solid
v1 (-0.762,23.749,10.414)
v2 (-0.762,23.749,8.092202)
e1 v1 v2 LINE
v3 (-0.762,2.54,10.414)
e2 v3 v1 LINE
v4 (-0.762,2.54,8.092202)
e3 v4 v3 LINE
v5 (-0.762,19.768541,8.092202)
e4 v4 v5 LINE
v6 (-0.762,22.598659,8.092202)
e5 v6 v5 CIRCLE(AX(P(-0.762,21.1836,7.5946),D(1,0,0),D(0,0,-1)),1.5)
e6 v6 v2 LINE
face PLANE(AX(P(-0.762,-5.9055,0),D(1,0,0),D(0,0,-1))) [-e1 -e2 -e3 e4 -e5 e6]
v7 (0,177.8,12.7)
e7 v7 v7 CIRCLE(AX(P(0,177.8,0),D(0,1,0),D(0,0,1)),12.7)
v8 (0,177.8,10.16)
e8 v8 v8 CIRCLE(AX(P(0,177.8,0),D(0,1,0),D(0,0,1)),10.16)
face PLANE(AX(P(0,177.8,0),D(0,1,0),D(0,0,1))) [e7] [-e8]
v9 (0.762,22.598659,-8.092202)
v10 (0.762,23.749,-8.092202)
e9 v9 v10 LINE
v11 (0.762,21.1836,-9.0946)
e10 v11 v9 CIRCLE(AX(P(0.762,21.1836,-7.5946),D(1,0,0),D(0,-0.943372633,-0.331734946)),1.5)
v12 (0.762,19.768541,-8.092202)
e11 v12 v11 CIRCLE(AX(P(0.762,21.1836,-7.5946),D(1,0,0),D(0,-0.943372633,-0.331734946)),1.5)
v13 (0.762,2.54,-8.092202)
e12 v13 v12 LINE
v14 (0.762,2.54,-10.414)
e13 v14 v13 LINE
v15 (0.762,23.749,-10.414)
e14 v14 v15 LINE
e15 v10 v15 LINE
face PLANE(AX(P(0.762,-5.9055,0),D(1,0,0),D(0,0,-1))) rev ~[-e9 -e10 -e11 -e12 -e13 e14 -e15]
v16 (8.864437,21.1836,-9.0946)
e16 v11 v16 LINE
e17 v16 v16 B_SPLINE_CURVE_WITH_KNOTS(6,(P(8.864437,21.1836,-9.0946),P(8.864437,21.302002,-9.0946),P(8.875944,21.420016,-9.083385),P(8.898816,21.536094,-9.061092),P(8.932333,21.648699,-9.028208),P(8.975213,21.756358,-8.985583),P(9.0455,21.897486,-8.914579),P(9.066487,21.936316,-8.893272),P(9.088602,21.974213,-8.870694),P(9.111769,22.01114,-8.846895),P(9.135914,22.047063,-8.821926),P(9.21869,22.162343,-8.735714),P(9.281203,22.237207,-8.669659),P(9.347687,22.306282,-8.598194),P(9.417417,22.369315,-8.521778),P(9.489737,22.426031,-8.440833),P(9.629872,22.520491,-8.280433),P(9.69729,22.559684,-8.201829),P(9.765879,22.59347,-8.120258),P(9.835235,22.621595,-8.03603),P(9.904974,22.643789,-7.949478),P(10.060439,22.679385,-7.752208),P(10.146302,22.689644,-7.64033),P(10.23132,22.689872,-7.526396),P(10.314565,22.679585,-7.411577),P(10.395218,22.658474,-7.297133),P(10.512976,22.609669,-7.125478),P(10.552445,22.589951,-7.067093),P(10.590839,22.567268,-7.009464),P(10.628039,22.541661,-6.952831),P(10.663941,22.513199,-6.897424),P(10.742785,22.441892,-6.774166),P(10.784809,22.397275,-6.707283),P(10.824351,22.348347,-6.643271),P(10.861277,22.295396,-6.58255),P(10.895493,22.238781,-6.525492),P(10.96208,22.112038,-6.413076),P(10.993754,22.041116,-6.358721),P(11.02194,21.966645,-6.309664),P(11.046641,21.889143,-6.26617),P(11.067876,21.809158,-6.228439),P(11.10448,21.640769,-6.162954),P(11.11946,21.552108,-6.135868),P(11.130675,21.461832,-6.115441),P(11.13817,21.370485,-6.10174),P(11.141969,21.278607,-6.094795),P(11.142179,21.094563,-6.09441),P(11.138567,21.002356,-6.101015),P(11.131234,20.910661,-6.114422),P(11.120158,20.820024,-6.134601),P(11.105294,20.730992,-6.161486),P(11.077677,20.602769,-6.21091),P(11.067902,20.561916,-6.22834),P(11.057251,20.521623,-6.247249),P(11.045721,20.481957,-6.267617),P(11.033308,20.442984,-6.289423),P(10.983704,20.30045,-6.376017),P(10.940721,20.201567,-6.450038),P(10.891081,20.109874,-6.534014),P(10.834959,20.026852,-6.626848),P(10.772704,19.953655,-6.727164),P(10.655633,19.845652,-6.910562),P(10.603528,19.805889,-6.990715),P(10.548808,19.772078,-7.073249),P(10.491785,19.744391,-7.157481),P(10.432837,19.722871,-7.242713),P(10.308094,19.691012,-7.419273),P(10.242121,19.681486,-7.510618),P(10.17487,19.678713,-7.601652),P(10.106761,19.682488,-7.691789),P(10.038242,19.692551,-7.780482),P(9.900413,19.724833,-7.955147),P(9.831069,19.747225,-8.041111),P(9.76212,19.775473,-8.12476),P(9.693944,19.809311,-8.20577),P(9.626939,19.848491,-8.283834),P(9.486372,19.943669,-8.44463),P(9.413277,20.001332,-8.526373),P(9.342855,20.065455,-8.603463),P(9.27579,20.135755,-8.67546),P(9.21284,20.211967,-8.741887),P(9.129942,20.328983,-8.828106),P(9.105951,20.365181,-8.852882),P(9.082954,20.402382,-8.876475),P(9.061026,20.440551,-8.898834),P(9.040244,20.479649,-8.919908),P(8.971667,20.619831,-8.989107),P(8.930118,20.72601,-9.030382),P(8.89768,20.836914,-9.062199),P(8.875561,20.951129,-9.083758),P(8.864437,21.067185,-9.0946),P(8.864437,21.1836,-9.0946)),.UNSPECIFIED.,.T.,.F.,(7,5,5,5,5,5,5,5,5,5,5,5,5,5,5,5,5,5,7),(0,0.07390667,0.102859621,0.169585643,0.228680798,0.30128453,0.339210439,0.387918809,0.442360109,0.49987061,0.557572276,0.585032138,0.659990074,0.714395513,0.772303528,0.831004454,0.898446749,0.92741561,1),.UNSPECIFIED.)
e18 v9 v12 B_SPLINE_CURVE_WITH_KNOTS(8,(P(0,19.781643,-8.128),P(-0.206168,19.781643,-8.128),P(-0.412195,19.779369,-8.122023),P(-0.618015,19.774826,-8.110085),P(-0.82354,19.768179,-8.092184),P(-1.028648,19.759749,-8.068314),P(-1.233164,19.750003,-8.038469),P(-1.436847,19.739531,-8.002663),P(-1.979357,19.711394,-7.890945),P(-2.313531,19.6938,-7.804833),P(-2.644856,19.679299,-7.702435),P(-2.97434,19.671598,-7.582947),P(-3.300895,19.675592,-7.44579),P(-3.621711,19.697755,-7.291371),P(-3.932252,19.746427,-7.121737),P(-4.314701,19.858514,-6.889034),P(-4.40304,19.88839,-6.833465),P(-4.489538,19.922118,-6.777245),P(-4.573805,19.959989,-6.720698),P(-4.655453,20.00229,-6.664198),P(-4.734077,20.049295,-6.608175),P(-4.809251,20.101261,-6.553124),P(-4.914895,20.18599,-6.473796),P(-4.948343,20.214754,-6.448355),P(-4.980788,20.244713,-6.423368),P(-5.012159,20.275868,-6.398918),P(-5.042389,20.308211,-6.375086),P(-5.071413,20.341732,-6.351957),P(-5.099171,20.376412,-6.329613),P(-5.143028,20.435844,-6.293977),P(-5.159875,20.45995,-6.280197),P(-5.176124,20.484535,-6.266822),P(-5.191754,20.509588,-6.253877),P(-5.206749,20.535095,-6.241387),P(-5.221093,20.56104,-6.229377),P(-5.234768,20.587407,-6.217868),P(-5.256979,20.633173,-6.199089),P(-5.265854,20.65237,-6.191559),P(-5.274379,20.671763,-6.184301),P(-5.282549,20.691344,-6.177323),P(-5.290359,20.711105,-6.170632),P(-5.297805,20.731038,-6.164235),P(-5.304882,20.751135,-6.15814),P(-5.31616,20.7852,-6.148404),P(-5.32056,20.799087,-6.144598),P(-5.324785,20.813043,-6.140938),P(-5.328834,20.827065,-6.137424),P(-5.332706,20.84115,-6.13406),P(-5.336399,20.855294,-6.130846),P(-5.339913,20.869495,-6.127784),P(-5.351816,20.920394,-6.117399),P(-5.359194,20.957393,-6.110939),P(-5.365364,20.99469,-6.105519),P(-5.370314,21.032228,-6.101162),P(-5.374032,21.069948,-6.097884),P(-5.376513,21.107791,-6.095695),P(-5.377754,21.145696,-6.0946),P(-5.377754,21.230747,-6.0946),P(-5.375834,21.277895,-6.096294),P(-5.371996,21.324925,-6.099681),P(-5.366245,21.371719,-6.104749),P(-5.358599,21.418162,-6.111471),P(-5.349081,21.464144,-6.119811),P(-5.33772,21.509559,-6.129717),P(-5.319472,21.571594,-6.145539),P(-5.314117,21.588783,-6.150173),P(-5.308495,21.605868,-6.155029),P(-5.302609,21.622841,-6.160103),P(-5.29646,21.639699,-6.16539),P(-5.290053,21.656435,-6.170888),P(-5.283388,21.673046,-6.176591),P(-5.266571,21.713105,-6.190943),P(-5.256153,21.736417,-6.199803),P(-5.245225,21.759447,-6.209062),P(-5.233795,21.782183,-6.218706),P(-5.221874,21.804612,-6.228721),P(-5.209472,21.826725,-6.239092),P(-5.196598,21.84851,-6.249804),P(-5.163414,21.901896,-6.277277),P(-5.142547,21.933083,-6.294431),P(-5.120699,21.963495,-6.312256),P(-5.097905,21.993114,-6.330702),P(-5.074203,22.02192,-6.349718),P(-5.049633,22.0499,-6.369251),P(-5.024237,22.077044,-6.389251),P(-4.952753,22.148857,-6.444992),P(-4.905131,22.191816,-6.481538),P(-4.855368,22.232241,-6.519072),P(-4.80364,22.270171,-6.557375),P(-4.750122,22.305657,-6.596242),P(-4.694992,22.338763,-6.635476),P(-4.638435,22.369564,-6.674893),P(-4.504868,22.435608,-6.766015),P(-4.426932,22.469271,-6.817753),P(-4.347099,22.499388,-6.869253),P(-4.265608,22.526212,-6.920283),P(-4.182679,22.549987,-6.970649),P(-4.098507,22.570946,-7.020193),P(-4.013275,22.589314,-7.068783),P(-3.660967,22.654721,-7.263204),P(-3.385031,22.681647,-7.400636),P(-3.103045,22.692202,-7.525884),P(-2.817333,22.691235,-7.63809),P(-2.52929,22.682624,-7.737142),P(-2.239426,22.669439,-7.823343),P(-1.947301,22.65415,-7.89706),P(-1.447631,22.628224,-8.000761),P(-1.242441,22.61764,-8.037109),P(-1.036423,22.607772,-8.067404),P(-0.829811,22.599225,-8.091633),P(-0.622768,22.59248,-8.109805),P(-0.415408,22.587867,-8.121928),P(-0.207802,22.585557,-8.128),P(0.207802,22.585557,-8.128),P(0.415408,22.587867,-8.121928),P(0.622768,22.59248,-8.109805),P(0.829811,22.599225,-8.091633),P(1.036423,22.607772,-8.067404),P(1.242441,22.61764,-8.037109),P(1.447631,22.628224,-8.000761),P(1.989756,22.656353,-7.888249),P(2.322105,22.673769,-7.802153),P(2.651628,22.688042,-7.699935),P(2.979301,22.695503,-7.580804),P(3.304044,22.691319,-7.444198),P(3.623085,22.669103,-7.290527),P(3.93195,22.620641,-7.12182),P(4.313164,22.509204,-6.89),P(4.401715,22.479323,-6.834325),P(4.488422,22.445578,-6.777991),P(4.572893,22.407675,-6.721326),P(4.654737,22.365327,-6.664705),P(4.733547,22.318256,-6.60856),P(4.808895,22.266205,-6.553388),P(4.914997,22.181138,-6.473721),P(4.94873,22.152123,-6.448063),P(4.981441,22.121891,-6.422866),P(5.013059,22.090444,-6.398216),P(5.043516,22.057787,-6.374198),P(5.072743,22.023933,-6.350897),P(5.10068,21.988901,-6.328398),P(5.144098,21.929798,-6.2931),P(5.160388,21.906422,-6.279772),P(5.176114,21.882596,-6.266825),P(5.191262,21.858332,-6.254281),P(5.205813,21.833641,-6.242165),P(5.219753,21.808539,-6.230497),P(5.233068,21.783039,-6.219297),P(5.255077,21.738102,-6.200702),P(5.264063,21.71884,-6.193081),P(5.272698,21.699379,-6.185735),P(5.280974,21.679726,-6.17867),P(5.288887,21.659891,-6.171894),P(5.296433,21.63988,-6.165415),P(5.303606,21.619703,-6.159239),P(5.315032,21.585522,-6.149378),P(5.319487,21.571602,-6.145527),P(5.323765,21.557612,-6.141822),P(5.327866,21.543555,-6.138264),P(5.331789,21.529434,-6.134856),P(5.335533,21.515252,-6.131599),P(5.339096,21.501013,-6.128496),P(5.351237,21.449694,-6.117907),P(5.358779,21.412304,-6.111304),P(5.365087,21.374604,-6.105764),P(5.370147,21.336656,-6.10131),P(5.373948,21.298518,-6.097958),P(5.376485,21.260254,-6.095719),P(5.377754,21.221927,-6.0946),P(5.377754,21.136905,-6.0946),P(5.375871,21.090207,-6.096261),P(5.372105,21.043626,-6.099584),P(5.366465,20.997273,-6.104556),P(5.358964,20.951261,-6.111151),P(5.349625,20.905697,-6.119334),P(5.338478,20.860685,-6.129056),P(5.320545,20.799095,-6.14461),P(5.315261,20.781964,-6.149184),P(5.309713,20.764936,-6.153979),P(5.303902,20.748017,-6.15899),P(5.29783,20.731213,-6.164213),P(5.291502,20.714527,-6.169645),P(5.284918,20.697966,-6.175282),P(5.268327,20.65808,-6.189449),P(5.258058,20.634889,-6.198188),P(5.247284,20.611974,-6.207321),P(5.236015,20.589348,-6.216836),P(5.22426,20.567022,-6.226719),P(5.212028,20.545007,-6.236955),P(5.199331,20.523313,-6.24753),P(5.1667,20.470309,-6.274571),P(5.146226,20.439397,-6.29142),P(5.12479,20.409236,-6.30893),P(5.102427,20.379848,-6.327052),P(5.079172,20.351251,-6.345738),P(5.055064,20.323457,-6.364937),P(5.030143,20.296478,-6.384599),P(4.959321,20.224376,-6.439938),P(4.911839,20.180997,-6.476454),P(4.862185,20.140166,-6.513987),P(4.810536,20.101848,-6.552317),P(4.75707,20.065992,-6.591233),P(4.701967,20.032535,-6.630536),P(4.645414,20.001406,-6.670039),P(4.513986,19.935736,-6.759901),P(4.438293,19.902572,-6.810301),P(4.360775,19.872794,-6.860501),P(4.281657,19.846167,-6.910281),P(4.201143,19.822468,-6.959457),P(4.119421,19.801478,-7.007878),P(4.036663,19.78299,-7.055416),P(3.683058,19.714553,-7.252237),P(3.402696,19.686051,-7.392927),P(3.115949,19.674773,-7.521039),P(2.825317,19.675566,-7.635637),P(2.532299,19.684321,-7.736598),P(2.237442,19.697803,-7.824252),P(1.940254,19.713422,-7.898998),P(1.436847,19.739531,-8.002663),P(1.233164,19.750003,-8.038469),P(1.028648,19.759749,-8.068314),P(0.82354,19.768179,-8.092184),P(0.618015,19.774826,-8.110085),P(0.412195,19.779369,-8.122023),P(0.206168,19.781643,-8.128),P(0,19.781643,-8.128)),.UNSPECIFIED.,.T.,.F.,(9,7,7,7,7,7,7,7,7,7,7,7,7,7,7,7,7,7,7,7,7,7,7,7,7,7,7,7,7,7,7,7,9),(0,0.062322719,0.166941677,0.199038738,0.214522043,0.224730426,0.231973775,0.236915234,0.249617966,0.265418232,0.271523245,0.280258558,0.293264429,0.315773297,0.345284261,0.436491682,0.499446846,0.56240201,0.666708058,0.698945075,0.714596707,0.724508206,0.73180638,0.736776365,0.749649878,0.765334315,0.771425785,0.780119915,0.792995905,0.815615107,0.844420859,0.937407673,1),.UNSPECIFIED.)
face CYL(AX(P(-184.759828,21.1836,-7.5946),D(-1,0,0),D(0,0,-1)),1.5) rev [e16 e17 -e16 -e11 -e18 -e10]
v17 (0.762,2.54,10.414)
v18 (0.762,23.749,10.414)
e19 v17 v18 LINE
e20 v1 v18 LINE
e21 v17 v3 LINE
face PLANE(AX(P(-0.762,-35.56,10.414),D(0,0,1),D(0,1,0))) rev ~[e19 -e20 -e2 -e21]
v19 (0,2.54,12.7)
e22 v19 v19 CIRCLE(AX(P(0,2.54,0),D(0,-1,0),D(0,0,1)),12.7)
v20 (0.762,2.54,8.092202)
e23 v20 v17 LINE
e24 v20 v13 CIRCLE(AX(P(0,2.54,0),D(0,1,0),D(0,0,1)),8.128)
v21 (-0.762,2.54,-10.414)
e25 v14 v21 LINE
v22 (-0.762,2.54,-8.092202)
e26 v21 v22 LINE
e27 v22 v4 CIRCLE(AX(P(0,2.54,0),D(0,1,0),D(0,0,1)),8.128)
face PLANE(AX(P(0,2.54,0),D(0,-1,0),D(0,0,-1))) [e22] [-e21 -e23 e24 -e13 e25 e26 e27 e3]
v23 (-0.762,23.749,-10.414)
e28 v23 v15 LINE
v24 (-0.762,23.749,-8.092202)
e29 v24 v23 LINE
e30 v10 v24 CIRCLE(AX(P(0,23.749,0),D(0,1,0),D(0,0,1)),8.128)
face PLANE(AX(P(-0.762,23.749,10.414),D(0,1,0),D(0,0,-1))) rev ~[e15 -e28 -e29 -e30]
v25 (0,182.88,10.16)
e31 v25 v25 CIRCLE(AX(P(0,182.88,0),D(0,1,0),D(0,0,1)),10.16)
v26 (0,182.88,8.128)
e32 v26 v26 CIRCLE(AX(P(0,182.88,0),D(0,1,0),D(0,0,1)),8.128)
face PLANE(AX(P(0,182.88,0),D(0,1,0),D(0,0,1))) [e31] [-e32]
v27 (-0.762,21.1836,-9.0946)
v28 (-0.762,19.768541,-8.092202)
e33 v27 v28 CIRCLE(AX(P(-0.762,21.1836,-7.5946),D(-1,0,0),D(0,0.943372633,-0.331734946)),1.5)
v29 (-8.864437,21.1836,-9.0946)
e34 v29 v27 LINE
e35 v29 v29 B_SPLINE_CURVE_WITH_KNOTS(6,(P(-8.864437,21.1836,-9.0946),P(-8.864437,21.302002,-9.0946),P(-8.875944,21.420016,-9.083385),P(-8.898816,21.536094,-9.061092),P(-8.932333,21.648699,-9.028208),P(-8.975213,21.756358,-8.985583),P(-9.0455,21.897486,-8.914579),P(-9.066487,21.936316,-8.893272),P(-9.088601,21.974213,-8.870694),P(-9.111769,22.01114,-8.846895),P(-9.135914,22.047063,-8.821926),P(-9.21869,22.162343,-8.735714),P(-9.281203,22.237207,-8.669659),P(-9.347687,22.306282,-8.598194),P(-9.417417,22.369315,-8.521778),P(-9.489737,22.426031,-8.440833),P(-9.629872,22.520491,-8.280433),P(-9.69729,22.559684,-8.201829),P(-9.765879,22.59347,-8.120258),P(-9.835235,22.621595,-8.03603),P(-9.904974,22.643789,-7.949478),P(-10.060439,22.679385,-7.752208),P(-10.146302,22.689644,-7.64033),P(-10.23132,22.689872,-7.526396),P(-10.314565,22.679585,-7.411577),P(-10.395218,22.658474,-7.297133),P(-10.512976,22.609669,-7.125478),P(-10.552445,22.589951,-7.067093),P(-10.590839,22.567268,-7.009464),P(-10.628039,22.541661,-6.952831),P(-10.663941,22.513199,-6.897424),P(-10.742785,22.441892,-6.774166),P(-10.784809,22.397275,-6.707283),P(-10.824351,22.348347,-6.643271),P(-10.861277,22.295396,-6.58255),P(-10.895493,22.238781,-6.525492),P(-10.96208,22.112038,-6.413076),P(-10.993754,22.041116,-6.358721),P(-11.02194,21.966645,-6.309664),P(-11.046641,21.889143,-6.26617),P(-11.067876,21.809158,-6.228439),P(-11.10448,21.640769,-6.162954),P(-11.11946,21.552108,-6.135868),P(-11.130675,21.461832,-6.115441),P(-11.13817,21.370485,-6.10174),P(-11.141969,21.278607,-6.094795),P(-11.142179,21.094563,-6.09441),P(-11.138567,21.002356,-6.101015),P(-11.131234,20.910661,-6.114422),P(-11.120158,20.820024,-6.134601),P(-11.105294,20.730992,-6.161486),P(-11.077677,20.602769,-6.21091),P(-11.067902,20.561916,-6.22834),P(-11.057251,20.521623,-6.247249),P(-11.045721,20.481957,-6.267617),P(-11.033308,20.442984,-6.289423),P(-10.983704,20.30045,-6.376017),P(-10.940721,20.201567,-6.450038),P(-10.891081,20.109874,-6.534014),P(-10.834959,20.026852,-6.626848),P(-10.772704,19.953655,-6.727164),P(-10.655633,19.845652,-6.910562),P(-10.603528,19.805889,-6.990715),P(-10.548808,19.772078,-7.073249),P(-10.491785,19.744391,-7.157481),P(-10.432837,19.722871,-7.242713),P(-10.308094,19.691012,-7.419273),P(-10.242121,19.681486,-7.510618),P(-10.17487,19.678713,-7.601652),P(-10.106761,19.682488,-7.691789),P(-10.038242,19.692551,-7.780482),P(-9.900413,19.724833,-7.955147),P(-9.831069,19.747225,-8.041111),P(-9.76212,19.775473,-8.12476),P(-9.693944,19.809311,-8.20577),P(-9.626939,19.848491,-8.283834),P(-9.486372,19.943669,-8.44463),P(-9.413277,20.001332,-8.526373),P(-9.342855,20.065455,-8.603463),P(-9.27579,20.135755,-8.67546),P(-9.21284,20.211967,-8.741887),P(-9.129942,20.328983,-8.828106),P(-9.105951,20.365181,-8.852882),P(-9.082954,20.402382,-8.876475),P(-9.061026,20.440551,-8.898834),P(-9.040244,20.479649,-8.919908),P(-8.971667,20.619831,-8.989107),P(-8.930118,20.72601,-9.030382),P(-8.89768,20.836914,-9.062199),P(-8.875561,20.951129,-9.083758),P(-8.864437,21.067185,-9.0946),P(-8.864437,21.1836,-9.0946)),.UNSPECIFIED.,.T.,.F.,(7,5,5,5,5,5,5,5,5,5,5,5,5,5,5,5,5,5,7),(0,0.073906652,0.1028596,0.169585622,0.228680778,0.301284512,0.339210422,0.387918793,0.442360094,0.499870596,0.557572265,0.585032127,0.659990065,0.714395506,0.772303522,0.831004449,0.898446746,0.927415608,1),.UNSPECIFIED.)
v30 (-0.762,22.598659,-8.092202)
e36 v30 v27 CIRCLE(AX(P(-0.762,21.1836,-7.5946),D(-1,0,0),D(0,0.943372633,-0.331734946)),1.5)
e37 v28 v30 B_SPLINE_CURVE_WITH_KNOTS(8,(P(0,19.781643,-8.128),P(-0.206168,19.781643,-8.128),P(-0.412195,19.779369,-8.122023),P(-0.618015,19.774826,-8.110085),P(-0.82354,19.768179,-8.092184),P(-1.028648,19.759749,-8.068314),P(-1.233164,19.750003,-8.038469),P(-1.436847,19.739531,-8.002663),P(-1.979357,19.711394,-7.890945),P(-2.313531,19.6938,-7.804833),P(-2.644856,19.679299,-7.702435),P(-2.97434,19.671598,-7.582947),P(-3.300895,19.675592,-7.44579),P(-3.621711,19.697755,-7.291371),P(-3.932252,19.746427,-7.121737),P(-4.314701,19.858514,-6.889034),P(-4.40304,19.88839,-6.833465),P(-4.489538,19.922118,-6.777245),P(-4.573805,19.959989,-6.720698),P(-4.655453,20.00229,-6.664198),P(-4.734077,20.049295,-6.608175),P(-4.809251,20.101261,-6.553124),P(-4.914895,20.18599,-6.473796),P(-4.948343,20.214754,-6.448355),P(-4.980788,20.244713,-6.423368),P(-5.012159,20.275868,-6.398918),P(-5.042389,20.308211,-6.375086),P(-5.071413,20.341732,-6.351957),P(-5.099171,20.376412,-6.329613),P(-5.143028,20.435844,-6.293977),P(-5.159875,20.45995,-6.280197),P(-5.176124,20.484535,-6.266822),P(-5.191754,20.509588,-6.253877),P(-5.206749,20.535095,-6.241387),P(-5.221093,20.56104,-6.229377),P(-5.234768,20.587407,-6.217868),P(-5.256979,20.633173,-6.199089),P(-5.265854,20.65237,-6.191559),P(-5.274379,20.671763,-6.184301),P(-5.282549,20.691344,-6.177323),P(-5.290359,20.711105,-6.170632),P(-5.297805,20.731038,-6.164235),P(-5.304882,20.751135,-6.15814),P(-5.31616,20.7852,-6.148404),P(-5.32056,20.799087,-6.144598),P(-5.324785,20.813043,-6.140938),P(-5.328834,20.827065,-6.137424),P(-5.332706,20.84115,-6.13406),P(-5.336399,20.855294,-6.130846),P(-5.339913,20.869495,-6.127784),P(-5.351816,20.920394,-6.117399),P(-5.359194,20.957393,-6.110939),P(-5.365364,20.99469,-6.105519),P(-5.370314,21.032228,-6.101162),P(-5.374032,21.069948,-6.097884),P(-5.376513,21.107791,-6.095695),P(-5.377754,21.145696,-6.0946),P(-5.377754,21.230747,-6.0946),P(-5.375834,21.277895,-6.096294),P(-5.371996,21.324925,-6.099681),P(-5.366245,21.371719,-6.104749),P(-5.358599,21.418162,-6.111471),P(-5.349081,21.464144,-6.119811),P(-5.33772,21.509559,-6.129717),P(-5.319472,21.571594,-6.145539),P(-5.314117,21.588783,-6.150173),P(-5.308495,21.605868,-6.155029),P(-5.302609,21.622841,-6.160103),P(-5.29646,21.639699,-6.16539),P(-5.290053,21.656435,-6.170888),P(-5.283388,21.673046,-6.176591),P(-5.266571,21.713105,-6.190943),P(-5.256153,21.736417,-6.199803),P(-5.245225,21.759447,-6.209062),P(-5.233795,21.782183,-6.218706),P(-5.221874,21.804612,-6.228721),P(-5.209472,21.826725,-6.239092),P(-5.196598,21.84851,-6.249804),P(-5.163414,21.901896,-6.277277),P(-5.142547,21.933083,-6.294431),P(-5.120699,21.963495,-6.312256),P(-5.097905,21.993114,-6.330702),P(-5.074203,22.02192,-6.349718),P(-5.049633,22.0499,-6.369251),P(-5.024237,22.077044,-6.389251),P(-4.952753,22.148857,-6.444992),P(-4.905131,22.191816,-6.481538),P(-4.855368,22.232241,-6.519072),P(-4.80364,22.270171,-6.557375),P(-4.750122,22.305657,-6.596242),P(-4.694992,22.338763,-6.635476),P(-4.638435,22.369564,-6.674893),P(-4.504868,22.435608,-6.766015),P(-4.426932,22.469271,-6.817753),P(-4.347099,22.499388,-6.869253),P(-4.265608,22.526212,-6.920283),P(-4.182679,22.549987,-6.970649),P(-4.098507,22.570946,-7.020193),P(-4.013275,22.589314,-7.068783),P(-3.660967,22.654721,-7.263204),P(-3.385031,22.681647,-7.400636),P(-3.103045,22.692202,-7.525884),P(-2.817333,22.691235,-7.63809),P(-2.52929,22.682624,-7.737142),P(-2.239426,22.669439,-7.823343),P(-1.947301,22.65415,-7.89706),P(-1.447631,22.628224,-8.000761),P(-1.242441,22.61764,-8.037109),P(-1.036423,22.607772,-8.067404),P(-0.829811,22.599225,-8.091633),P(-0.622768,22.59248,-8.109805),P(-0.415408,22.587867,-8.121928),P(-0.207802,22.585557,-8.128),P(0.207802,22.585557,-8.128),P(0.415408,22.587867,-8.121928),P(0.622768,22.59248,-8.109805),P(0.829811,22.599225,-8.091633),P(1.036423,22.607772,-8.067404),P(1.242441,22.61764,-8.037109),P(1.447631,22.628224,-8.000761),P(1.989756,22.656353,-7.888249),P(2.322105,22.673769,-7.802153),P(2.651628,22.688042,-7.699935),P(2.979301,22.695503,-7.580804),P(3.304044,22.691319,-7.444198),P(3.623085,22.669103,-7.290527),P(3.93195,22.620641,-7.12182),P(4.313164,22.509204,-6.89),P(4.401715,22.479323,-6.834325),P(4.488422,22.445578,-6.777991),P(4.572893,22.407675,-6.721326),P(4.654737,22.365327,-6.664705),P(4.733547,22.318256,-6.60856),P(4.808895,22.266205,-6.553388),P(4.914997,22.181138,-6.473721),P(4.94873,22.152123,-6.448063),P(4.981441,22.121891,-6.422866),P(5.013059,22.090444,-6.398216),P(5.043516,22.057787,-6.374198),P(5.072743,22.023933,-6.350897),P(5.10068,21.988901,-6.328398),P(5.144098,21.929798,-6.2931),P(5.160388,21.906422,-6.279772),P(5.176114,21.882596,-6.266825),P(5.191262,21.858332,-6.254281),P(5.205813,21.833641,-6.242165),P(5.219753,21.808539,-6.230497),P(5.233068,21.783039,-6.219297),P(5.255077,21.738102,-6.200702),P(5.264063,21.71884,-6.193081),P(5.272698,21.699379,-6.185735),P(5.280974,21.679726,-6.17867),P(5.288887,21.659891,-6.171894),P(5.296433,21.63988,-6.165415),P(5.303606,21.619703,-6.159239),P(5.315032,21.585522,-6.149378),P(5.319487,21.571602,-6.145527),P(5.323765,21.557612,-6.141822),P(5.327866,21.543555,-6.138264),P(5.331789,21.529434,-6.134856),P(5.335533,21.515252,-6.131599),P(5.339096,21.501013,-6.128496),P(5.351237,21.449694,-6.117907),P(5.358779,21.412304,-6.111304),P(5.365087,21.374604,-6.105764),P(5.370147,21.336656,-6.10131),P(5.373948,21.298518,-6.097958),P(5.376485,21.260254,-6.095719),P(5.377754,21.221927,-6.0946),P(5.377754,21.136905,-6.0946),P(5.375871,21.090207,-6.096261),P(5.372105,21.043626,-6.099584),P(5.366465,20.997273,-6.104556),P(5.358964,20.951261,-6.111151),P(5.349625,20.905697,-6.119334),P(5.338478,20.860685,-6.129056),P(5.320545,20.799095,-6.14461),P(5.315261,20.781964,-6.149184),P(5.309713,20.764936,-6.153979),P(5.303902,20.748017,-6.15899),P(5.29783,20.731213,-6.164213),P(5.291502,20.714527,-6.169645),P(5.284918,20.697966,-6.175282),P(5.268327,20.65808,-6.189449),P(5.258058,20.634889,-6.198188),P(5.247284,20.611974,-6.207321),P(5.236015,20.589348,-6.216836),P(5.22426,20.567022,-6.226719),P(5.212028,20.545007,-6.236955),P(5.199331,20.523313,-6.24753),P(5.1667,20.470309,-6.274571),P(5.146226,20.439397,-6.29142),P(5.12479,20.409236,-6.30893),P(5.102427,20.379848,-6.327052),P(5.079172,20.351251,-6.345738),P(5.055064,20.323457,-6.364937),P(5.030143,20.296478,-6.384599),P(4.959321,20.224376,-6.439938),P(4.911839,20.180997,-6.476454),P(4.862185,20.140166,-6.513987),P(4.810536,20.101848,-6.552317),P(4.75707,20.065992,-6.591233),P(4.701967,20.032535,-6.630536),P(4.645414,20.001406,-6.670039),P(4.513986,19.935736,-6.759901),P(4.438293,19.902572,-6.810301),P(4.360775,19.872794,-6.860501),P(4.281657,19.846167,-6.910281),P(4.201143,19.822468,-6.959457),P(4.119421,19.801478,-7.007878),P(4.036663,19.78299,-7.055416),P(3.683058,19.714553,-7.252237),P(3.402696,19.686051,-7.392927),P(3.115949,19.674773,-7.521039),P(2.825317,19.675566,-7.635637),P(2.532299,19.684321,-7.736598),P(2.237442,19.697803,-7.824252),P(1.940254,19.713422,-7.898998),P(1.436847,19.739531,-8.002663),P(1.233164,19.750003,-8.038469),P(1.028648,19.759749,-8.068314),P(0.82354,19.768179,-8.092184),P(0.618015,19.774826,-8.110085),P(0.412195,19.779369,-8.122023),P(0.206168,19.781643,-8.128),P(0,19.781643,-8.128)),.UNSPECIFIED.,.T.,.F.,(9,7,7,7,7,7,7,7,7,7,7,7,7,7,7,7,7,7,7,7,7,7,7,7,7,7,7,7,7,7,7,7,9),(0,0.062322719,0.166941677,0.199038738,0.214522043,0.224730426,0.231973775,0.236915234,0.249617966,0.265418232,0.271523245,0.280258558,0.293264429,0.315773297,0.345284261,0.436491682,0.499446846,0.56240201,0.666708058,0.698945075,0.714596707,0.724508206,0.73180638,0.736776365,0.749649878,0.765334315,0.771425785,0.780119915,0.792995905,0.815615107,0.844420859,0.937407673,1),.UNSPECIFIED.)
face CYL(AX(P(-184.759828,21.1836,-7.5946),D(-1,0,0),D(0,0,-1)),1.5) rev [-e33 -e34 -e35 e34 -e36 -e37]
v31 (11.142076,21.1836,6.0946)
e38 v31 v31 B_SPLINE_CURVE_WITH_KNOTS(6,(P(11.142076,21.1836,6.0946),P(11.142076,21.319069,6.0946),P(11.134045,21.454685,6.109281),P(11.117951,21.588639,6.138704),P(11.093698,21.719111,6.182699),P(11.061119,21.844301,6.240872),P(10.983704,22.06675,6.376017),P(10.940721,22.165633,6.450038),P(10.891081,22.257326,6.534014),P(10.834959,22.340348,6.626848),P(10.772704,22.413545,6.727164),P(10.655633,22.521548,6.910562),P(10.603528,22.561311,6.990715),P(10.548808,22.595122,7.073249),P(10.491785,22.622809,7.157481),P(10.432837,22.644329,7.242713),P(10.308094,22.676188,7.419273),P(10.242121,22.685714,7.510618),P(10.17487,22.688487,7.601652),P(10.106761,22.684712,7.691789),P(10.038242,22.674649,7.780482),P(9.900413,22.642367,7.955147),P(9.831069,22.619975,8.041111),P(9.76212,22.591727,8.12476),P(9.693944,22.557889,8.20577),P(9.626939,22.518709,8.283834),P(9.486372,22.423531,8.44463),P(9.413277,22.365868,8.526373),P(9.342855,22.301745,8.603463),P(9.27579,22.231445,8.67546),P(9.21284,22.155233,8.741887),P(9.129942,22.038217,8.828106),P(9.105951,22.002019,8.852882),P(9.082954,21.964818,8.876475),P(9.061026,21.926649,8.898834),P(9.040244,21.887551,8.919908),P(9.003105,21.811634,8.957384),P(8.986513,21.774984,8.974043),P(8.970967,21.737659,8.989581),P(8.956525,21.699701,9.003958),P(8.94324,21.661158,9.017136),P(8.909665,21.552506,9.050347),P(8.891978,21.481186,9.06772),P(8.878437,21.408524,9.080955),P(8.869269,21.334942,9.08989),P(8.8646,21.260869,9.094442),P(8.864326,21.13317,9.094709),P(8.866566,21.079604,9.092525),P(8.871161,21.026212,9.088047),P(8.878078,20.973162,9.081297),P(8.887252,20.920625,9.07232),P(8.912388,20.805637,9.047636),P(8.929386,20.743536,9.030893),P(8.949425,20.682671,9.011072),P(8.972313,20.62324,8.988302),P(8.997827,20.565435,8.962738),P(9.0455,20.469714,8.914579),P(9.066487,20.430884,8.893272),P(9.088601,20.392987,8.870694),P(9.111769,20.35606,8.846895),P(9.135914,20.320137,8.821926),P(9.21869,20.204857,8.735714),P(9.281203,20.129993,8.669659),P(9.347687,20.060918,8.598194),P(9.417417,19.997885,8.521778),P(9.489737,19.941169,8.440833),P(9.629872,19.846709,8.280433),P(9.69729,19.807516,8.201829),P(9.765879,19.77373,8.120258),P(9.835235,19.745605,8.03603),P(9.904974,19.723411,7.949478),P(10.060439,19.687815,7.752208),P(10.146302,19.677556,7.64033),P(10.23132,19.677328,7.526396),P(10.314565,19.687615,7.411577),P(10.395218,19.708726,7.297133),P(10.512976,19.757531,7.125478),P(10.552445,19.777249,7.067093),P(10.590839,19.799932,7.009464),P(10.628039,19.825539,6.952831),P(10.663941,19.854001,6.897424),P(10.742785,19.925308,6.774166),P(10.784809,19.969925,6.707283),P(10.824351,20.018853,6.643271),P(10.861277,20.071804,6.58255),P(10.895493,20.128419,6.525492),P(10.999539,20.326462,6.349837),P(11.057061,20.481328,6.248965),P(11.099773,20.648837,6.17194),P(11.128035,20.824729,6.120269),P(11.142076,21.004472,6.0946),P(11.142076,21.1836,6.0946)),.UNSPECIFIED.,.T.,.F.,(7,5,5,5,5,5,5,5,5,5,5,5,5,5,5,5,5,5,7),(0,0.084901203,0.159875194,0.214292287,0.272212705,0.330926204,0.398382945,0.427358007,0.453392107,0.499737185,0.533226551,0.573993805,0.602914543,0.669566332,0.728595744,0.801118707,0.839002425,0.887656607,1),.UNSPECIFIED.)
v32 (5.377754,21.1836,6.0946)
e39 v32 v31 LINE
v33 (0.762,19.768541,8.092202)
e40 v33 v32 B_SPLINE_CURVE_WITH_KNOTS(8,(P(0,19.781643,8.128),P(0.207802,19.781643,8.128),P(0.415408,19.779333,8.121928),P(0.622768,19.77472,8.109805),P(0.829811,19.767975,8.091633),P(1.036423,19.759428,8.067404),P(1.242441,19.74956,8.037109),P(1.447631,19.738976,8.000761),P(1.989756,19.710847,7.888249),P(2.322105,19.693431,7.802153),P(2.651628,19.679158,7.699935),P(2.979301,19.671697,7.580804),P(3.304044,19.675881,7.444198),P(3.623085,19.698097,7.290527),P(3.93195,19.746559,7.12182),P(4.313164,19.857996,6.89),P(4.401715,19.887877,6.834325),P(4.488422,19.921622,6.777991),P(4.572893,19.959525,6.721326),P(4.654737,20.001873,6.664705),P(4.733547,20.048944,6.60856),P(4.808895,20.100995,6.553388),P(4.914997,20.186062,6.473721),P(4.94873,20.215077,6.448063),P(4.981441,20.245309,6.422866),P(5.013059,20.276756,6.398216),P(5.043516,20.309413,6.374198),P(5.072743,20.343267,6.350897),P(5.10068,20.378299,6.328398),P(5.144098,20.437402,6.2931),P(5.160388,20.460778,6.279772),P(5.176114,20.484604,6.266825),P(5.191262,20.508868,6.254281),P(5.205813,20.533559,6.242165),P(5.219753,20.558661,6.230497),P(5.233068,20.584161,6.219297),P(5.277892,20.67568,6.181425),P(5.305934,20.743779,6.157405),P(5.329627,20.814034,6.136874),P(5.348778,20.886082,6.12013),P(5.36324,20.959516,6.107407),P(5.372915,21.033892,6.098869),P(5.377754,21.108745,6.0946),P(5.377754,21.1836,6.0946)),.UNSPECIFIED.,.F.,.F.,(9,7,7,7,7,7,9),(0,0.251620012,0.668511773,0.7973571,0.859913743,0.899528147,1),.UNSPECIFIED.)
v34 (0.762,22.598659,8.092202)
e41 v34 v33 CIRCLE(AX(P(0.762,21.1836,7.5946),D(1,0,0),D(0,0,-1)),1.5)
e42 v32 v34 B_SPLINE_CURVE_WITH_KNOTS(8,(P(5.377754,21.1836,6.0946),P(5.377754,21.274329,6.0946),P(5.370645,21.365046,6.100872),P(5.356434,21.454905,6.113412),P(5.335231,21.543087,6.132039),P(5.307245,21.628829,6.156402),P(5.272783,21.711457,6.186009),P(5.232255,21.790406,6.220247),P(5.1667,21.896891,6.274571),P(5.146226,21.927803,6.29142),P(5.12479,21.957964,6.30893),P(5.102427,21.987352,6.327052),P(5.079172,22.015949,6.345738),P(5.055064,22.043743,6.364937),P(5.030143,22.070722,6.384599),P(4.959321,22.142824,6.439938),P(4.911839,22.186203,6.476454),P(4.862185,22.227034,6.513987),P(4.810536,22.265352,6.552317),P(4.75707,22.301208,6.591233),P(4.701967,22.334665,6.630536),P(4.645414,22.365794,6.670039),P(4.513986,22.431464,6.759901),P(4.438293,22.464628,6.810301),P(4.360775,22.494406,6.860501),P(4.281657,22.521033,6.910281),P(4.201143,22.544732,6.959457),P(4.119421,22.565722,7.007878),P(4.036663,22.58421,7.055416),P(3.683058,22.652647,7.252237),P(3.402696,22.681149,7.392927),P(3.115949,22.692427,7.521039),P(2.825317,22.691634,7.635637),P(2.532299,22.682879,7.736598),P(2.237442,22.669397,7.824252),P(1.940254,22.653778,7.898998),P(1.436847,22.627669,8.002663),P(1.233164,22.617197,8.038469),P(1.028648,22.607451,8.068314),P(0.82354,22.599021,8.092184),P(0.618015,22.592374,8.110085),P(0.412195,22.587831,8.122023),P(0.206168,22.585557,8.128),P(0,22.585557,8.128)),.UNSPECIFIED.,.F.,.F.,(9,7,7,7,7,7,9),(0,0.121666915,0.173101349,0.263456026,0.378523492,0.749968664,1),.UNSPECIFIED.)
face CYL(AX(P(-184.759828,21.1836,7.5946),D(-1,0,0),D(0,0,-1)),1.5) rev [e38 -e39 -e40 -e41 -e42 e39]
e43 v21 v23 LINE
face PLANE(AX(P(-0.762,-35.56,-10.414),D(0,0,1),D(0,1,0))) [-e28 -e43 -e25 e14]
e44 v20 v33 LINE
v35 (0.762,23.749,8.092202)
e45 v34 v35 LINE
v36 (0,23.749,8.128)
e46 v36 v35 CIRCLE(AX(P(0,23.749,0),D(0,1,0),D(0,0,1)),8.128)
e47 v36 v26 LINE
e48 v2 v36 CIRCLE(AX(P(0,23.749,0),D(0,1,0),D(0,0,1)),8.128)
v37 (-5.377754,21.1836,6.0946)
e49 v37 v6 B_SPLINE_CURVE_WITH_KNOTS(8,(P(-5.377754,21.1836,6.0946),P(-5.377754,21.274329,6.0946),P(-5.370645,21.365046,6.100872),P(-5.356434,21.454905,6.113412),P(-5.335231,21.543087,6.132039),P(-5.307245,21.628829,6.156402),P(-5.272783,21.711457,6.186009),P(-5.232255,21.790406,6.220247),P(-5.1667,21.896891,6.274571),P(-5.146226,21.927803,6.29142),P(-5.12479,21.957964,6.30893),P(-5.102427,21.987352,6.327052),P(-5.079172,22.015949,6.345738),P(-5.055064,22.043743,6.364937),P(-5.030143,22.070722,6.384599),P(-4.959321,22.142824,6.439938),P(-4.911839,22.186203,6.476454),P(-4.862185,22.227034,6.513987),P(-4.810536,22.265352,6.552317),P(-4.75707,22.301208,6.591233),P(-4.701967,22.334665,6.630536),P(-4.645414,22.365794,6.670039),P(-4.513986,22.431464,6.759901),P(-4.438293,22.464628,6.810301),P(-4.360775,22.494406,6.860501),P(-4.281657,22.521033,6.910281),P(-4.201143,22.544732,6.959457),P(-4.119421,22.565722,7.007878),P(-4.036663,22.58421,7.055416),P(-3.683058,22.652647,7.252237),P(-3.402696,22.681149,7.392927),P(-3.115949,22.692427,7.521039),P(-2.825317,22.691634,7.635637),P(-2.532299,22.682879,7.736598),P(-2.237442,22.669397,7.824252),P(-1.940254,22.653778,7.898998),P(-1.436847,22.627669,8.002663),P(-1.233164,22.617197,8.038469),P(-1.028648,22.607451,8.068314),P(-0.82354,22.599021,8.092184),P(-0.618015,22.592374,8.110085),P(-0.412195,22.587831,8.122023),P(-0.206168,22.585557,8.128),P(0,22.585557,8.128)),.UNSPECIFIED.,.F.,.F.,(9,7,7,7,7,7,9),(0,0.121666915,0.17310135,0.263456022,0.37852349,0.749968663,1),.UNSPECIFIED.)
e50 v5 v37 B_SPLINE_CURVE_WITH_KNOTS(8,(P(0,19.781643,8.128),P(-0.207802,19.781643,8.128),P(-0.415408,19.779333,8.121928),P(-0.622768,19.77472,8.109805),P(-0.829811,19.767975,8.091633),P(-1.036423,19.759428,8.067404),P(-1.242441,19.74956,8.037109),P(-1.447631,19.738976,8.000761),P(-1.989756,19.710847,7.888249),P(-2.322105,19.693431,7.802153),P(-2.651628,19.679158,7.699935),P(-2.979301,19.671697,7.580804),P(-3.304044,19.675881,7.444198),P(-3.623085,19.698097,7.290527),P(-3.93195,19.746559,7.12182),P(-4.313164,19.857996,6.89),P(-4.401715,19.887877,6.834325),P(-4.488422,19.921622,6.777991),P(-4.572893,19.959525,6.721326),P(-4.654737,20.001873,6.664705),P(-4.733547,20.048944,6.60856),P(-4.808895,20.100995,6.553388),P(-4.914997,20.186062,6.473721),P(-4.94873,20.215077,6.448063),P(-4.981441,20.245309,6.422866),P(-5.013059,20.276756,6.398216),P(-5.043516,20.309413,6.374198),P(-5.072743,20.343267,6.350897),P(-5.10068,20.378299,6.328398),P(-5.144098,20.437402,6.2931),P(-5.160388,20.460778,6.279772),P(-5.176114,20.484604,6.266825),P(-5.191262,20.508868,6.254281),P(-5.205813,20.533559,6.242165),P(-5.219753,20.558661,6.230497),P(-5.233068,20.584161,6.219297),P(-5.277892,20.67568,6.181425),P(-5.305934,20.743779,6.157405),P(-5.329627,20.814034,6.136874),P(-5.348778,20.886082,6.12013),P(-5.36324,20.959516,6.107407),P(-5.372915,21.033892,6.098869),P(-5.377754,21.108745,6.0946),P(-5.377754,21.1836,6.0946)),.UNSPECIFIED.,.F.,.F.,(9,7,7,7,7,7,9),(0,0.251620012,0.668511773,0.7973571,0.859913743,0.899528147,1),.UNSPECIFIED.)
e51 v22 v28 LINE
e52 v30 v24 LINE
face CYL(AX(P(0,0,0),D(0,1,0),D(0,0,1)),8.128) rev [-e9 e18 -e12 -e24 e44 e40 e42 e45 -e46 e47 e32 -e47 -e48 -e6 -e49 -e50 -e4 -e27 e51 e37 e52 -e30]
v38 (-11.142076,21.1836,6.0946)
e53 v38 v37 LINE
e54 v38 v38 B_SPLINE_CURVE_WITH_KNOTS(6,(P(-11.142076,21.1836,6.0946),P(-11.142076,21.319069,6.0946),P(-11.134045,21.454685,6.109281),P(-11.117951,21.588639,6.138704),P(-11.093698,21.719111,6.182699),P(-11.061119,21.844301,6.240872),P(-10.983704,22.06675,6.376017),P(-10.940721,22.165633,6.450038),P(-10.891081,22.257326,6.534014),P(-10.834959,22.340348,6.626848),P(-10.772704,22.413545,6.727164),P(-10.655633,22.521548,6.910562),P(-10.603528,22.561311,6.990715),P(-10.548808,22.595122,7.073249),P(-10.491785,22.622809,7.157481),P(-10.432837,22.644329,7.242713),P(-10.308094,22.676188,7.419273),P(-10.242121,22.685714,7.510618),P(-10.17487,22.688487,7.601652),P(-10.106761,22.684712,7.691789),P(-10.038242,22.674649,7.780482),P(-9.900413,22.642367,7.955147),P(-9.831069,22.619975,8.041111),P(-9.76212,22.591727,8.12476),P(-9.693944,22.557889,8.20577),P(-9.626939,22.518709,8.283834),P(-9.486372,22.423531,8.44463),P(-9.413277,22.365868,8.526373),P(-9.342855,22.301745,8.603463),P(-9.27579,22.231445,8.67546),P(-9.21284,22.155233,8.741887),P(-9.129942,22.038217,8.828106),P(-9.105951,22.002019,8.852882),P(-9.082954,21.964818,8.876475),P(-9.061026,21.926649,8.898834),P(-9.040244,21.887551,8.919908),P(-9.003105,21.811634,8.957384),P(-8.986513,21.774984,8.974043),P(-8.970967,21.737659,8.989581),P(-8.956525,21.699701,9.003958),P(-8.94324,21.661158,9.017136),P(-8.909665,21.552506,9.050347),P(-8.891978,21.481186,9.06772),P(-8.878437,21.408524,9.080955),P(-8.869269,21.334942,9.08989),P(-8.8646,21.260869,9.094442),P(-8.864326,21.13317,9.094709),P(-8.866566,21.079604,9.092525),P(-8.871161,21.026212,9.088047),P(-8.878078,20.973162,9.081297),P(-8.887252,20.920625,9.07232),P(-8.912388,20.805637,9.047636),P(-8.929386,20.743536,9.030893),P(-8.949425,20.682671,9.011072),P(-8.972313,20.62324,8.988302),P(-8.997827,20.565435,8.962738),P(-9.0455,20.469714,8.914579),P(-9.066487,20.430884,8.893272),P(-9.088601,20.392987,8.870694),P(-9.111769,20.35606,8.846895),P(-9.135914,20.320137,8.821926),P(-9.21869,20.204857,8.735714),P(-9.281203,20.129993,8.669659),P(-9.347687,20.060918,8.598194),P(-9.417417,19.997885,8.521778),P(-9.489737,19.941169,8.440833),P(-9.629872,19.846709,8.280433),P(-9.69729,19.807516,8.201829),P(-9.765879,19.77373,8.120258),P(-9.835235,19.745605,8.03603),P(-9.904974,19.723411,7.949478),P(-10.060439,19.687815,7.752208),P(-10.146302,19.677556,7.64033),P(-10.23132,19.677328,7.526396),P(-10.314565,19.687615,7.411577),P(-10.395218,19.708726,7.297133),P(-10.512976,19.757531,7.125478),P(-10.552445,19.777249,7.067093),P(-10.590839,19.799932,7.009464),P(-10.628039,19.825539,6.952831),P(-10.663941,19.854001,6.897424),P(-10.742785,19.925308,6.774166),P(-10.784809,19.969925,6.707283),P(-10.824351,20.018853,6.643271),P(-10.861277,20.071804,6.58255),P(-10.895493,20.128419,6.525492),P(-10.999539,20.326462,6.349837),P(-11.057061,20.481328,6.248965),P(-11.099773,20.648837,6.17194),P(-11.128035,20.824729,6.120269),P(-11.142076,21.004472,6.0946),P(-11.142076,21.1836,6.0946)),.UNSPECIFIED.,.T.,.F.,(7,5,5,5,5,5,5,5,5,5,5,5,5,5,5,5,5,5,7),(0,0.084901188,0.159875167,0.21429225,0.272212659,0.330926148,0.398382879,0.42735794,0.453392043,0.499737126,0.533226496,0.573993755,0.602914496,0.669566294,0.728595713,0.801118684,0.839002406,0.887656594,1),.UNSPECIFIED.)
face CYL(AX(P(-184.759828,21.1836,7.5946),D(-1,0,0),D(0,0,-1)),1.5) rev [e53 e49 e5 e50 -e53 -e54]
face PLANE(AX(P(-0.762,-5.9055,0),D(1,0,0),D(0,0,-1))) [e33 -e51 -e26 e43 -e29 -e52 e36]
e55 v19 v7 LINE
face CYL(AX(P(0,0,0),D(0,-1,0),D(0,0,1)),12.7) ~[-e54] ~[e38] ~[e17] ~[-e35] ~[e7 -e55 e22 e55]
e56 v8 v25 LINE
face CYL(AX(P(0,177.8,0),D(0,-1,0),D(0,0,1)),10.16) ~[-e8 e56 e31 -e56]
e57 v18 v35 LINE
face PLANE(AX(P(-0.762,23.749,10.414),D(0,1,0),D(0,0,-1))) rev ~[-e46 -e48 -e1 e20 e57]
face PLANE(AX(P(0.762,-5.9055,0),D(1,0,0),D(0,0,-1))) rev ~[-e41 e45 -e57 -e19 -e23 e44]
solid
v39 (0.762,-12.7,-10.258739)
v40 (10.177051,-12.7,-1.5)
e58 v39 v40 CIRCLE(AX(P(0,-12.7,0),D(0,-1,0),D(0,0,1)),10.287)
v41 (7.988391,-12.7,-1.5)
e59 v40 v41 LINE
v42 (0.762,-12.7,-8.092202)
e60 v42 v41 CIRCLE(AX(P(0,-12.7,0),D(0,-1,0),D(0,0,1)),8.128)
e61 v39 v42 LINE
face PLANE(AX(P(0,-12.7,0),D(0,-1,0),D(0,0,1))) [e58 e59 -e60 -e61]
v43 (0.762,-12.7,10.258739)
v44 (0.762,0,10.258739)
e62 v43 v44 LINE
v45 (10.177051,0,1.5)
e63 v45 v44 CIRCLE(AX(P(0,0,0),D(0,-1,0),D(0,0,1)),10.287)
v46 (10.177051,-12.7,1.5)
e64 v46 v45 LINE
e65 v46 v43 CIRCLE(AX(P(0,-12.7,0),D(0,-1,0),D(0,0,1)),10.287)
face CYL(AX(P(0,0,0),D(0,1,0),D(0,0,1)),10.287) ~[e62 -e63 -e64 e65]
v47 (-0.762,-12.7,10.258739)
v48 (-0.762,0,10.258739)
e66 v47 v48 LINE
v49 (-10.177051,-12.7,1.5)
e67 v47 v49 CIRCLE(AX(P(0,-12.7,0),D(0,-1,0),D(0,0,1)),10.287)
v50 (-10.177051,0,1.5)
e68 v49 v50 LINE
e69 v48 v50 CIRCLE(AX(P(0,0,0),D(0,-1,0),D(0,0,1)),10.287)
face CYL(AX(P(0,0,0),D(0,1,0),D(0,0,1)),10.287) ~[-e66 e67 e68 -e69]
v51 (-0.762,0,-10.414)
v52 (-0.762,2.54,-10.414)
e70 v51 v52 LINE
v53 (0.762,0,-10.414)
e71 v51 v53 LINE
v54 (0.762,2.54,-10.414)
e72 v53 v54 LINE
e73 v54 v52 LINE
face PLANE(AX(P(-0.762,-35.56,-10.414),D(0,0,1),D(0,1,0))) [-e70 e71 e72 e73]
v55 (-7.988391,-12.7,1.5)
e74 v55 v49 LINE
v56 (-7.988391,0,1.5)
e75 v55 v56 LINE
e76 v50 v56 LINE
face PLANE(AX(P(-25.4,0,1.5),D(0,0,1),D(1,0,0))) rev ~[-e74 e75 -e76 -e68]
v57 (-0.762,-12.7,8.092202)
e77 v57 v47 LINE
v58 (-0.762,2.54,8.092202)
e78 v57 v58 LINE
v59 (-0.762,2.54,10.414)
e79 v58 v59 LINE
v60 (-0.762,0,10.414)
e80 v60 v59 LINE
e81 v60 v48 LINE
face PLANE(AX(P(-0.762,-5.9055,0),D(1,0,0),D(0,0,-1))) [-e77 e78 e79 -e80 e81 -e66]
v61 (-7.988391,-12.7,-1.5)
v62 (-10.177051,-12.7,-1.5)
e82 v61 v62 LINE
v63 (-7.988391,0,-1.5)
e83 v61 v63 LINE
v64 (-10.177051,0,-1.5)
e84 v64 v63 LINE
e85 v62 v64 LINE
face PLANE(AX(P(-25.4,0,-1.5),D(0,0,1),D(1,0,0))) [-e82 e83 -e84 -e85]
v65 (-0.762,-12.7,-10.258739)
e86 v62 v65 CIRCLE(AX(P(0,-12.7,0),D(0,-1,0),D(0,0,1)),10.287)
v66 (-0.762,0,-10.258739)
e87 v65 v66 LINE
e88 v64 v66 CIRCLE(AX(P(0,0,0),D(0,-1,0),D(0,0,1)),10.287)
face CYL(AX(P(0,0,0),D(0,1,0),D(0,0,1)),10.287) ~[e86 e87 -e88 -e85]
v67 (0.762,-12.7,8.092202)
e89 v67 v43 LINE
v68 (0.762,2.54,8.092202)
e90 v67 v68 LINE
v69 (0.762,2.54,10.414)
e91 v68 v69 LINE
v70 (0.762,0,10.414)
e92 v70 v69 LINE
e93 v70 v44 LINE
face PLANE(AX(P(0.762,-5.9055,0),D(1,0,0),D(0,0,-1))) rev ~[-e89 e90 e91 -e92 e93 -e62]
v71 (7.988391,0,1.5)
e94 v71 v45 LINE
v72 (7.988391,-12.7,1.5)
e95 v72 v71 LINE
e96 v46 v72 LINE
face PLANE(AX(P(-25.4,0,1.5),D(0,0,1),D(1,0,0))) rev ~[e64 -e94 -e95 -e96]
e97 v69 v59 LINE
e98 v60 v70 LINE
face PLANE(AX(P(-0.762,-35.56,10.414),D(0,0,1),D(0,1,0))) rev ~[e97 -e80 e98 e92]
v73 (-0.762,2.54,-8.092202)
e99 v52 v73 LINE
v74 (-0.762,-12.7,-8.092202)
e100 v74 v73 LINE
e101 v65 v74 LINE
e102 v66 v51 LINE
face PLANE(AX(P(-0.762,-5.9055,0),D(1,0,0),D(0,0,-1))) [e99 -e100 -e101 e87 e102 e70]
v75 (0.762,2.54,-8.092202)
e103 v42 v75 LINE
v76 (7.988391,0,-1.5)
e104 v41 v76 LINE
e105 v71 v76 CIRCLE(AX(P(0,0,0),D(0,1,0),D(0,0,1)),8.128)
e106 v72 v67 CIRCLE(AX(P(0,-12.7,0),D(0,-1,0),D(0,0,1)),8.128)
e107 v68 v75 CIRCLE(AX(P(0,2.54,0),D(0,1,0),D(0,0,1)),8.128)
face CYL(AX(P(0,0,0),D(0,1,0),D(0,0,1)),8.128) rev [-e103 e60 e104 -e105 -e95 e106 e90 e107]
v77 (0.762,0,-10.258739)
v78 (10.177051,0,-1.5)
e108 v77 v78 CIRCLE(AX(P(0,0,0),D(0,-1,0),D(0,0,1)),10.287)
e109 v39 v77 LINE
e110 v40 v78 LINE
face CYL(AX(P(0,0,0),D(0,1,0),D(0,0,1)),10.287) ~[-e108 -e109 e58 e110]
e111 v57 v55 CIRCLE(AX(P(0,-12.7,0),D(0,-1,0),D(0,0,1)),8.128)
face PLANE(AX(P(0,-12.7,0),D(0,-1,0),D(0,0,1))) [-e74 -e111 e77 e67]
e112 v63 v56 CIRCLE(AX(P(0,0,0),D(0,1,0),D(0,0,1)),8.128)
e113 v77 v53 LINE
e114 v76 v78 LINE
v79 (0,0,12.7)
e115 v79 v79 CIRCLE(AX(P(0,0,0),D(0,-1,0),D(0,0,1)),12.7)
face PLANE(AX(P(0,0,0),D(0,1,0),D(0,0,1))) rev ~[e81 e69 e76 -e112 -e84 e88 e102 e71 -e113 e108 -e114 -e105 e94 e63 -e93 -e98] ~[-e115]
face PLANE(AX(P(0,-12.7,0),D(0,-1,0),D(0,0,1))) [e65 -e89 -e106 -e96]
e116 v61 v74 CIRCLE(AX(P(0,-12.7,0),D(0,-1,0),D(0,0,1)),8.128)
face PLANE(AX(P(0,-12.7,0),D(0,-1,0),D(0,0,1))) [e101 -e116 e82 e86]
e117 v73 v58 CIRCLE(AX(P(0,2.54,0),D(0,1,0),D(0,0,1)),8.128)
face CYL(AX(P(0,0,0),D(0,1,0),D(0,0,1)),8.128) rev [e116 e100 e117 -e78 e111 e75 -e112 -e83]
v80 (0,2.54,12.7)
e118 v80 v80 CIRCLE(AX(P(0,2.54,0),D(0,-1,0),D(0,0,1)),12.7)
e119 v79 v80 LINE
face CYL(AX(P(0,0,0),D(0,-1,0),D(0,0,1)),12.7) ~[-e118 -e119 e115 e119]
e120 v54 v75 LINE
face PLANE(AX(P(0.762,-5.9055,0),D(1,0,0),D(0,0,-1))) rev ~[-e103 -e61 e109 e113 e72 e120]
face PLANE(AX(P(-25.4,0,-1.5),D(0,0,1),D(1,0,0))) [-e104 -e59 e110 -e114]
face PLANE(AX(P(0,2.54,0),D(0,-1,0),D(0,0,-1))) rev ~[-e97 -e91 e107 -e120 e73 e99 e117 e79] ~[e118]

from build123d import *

# Parameters (mm, degrees)
SKETCH1_R               = 12.7
BOSS_EXTRUDE1_DEPTH     = 177.8
SKETCH4_R               = 10.16
BOSS_EXTRUDE2_DEPTH     = 5.08
SKETCH5_R               = 8.128
CUT_EXTRUDE1_DEPTH      = 184.759828036
SKETCH6_R               = 10.287
SKETCH6_R_2             = 8.128
BOSS_EXTRUDE3_DEPTH     = 12.7
CUT_EXTRUDE2_DEPTH      = 0.762
CUT_EXTRUDE2_DEPTH_BACK = 0.762
SKETCH10_W              = 20.828
SKETCH10_H              = 59.309
SKETCH10_R              = 1.5
CUT_EXTRUDE3_DEPTH      = 184.759828136
CUT_EXTRUDE3_DEPTH_BACK = 184.759828136
SKETCH11_R              = 1.5
CUT_EXTRUDE4_DEPTH      = 197.402944082
CUT_EXTRUDE4_DEPTH_BACK = 12.7
SKETCH12_W              = 50.8
SKETCH12_H              = 3


with BuildPart() as part:
    # Sketch1 → Boss-Extrude1 (new body)
    with BuildSketch(Plane(origin=(0, 0, 0), x_dir=(1, 0, 0), z_dir=(0, 1, 0))):
        with Locations(Location((0, 0, 0), (0, 0, 270))):
            Circle(SKETCH1_R)
    extrude(amount=BOSS_EXTRUDE1_DEPTH)

    # Sketch4 → Boss-Extrude2 (add)
    with BuildSketch(Plane(origin=(0, 177.8, 0), x_dir=(1, 0, 0), z_dir=(0, 1, 0))):
        with Locations(Location((0, 0, 0), (0, 0, 270))):
            Circle(SKETCH4_R)
    extrude(amount=BOSS_EXTRUDE2_DEPTH)

    # Sketch5 → Cut-Extrude1 (cut, through all)
    with BuildSketch(Plane(origin=(0, 182.88, 0), x_dir=(1, 0, 0), z_dir=(0, 1, 0))):
        with Locations(Location((0, 0, 0), (0, 0, 270))):
            Circle(SKETCH5_R)
    extrude(amount=-CUT_EXTRUDE1_DEPTH, mode=Mode.SUBTRACT)

    # Sketch6 → Boss-Extrude3 (add)
    with BuildSketch(Plane.XZ):
        with Locations(Location((0, 0, 0), (0, 0, 90))):
            Circle(SKETCH6_R)
        with Locations(Location((0, 0, 0), (0, 0, 90))):
            Circle(SKETCH6_R_2, mode=Mode.SUBTRACT)
    extrude(amount=BOSS_EXTRUDE3_DEPTH)


with BuildPart() as body_2:
    # Split1: the piece on the far side of the plane
    add(part.part)
    split(bisect_by=Plane(origin=(0, 2.54, 0), x_dir=(0, 0, -1), z_dir=(0, -1, 0)), keep=Keep.BOTTOM)


with BuildPart() as part_1:
    add(part.part)

    # Split1
    split(bisect_by=Plane(origin=(0, 2.54, 0), x_dir=(0, 0, -1), z_dir=(0, -1, 0)), keep=Keep.TOP)


with BuildPart() as cut_extrude2_tool:
    # Sketch10 → Cut-Extrude2 (new, two sides: drawn at the far end of the back side and taken through both)
    with BuildSketch(Plane(origin=(0, 0, 0), x_dir=(0, 0, -1), z_dir=(1, 0, 0)).offset(-CUT_EXTRUDE2_DEPTH_BACK)):
        with Locations((0, -5.9055)):
            Rectangle(SKETCH10_W, SKETCH10_H)
        with Locations((7.5946, 21.1836)):
            Circle(SKETCH10_R, mode=Mode.SUBTRACT)
        with Locations((-7.5946, 21.1836)):
            Circle(SKETCH10_R, mode=Mode.SUBTRACT)
    extrude(amount=CUT_EXTRUDE2_DEPTH + CUT_EXTRUDE2_DEPTH_BACK)


with BuildPart() as part_2:
    add(part_1.part)

    # Cut-Extrude2: cut by cut_extrude2_tool
    add(cut_extrude2_tool.part, mode=Mode.SUBTRACT)

    # Sketch12 → Cut-Extrude4 (cut, two sides: drawn at the far end of the back side and taken through both)
    with BuildSketch(Plane.XZ.offset(12.7).offset(-CUT_EXTRUDE4_DEPTH_BACK)):
        Rectangle(SKETCH12_W, SKETCH12_H)
    extrude(amount=CUT_EXTRUDE4_DEPTH + CUT_EXTRUDE4_DEPTH_BACK, mode=Mode.SUBTRACT)


with BuildPart() as body_2_1:
    add(body_2.part)

    # Cut-Extrude2: cut by cut_extrude2_tool
    add(cut_extrude2_tool.part, mode=Mode.SUBTRACT)

    # Sketch11 → Cut-Extrude3 (cut, two sides: drawn at the far end of the back side and taken through both)
    with BuildSketch(Plane(origin=(0, 0, 0), x_dir=(0, 0, -1), z_dir=(1, 0, 0)).offset(-CUT_EXTRUDE3_DEPTH_BACK)):
        with Locations((7.5946, 21.1836)):
            Circle(SKETCH11_R)
        with Locations((-7.5946, 21.1836)):
            Circle(SKETCH11_R)
    extrude(amount=CUT_EXTRUDE3_DEPTH + CUT_EXTRUDE3_DEPTH_BACK, mode=Mode.SUBTRACT)


solid = Compound([part_2.part, body_2_1.part])
